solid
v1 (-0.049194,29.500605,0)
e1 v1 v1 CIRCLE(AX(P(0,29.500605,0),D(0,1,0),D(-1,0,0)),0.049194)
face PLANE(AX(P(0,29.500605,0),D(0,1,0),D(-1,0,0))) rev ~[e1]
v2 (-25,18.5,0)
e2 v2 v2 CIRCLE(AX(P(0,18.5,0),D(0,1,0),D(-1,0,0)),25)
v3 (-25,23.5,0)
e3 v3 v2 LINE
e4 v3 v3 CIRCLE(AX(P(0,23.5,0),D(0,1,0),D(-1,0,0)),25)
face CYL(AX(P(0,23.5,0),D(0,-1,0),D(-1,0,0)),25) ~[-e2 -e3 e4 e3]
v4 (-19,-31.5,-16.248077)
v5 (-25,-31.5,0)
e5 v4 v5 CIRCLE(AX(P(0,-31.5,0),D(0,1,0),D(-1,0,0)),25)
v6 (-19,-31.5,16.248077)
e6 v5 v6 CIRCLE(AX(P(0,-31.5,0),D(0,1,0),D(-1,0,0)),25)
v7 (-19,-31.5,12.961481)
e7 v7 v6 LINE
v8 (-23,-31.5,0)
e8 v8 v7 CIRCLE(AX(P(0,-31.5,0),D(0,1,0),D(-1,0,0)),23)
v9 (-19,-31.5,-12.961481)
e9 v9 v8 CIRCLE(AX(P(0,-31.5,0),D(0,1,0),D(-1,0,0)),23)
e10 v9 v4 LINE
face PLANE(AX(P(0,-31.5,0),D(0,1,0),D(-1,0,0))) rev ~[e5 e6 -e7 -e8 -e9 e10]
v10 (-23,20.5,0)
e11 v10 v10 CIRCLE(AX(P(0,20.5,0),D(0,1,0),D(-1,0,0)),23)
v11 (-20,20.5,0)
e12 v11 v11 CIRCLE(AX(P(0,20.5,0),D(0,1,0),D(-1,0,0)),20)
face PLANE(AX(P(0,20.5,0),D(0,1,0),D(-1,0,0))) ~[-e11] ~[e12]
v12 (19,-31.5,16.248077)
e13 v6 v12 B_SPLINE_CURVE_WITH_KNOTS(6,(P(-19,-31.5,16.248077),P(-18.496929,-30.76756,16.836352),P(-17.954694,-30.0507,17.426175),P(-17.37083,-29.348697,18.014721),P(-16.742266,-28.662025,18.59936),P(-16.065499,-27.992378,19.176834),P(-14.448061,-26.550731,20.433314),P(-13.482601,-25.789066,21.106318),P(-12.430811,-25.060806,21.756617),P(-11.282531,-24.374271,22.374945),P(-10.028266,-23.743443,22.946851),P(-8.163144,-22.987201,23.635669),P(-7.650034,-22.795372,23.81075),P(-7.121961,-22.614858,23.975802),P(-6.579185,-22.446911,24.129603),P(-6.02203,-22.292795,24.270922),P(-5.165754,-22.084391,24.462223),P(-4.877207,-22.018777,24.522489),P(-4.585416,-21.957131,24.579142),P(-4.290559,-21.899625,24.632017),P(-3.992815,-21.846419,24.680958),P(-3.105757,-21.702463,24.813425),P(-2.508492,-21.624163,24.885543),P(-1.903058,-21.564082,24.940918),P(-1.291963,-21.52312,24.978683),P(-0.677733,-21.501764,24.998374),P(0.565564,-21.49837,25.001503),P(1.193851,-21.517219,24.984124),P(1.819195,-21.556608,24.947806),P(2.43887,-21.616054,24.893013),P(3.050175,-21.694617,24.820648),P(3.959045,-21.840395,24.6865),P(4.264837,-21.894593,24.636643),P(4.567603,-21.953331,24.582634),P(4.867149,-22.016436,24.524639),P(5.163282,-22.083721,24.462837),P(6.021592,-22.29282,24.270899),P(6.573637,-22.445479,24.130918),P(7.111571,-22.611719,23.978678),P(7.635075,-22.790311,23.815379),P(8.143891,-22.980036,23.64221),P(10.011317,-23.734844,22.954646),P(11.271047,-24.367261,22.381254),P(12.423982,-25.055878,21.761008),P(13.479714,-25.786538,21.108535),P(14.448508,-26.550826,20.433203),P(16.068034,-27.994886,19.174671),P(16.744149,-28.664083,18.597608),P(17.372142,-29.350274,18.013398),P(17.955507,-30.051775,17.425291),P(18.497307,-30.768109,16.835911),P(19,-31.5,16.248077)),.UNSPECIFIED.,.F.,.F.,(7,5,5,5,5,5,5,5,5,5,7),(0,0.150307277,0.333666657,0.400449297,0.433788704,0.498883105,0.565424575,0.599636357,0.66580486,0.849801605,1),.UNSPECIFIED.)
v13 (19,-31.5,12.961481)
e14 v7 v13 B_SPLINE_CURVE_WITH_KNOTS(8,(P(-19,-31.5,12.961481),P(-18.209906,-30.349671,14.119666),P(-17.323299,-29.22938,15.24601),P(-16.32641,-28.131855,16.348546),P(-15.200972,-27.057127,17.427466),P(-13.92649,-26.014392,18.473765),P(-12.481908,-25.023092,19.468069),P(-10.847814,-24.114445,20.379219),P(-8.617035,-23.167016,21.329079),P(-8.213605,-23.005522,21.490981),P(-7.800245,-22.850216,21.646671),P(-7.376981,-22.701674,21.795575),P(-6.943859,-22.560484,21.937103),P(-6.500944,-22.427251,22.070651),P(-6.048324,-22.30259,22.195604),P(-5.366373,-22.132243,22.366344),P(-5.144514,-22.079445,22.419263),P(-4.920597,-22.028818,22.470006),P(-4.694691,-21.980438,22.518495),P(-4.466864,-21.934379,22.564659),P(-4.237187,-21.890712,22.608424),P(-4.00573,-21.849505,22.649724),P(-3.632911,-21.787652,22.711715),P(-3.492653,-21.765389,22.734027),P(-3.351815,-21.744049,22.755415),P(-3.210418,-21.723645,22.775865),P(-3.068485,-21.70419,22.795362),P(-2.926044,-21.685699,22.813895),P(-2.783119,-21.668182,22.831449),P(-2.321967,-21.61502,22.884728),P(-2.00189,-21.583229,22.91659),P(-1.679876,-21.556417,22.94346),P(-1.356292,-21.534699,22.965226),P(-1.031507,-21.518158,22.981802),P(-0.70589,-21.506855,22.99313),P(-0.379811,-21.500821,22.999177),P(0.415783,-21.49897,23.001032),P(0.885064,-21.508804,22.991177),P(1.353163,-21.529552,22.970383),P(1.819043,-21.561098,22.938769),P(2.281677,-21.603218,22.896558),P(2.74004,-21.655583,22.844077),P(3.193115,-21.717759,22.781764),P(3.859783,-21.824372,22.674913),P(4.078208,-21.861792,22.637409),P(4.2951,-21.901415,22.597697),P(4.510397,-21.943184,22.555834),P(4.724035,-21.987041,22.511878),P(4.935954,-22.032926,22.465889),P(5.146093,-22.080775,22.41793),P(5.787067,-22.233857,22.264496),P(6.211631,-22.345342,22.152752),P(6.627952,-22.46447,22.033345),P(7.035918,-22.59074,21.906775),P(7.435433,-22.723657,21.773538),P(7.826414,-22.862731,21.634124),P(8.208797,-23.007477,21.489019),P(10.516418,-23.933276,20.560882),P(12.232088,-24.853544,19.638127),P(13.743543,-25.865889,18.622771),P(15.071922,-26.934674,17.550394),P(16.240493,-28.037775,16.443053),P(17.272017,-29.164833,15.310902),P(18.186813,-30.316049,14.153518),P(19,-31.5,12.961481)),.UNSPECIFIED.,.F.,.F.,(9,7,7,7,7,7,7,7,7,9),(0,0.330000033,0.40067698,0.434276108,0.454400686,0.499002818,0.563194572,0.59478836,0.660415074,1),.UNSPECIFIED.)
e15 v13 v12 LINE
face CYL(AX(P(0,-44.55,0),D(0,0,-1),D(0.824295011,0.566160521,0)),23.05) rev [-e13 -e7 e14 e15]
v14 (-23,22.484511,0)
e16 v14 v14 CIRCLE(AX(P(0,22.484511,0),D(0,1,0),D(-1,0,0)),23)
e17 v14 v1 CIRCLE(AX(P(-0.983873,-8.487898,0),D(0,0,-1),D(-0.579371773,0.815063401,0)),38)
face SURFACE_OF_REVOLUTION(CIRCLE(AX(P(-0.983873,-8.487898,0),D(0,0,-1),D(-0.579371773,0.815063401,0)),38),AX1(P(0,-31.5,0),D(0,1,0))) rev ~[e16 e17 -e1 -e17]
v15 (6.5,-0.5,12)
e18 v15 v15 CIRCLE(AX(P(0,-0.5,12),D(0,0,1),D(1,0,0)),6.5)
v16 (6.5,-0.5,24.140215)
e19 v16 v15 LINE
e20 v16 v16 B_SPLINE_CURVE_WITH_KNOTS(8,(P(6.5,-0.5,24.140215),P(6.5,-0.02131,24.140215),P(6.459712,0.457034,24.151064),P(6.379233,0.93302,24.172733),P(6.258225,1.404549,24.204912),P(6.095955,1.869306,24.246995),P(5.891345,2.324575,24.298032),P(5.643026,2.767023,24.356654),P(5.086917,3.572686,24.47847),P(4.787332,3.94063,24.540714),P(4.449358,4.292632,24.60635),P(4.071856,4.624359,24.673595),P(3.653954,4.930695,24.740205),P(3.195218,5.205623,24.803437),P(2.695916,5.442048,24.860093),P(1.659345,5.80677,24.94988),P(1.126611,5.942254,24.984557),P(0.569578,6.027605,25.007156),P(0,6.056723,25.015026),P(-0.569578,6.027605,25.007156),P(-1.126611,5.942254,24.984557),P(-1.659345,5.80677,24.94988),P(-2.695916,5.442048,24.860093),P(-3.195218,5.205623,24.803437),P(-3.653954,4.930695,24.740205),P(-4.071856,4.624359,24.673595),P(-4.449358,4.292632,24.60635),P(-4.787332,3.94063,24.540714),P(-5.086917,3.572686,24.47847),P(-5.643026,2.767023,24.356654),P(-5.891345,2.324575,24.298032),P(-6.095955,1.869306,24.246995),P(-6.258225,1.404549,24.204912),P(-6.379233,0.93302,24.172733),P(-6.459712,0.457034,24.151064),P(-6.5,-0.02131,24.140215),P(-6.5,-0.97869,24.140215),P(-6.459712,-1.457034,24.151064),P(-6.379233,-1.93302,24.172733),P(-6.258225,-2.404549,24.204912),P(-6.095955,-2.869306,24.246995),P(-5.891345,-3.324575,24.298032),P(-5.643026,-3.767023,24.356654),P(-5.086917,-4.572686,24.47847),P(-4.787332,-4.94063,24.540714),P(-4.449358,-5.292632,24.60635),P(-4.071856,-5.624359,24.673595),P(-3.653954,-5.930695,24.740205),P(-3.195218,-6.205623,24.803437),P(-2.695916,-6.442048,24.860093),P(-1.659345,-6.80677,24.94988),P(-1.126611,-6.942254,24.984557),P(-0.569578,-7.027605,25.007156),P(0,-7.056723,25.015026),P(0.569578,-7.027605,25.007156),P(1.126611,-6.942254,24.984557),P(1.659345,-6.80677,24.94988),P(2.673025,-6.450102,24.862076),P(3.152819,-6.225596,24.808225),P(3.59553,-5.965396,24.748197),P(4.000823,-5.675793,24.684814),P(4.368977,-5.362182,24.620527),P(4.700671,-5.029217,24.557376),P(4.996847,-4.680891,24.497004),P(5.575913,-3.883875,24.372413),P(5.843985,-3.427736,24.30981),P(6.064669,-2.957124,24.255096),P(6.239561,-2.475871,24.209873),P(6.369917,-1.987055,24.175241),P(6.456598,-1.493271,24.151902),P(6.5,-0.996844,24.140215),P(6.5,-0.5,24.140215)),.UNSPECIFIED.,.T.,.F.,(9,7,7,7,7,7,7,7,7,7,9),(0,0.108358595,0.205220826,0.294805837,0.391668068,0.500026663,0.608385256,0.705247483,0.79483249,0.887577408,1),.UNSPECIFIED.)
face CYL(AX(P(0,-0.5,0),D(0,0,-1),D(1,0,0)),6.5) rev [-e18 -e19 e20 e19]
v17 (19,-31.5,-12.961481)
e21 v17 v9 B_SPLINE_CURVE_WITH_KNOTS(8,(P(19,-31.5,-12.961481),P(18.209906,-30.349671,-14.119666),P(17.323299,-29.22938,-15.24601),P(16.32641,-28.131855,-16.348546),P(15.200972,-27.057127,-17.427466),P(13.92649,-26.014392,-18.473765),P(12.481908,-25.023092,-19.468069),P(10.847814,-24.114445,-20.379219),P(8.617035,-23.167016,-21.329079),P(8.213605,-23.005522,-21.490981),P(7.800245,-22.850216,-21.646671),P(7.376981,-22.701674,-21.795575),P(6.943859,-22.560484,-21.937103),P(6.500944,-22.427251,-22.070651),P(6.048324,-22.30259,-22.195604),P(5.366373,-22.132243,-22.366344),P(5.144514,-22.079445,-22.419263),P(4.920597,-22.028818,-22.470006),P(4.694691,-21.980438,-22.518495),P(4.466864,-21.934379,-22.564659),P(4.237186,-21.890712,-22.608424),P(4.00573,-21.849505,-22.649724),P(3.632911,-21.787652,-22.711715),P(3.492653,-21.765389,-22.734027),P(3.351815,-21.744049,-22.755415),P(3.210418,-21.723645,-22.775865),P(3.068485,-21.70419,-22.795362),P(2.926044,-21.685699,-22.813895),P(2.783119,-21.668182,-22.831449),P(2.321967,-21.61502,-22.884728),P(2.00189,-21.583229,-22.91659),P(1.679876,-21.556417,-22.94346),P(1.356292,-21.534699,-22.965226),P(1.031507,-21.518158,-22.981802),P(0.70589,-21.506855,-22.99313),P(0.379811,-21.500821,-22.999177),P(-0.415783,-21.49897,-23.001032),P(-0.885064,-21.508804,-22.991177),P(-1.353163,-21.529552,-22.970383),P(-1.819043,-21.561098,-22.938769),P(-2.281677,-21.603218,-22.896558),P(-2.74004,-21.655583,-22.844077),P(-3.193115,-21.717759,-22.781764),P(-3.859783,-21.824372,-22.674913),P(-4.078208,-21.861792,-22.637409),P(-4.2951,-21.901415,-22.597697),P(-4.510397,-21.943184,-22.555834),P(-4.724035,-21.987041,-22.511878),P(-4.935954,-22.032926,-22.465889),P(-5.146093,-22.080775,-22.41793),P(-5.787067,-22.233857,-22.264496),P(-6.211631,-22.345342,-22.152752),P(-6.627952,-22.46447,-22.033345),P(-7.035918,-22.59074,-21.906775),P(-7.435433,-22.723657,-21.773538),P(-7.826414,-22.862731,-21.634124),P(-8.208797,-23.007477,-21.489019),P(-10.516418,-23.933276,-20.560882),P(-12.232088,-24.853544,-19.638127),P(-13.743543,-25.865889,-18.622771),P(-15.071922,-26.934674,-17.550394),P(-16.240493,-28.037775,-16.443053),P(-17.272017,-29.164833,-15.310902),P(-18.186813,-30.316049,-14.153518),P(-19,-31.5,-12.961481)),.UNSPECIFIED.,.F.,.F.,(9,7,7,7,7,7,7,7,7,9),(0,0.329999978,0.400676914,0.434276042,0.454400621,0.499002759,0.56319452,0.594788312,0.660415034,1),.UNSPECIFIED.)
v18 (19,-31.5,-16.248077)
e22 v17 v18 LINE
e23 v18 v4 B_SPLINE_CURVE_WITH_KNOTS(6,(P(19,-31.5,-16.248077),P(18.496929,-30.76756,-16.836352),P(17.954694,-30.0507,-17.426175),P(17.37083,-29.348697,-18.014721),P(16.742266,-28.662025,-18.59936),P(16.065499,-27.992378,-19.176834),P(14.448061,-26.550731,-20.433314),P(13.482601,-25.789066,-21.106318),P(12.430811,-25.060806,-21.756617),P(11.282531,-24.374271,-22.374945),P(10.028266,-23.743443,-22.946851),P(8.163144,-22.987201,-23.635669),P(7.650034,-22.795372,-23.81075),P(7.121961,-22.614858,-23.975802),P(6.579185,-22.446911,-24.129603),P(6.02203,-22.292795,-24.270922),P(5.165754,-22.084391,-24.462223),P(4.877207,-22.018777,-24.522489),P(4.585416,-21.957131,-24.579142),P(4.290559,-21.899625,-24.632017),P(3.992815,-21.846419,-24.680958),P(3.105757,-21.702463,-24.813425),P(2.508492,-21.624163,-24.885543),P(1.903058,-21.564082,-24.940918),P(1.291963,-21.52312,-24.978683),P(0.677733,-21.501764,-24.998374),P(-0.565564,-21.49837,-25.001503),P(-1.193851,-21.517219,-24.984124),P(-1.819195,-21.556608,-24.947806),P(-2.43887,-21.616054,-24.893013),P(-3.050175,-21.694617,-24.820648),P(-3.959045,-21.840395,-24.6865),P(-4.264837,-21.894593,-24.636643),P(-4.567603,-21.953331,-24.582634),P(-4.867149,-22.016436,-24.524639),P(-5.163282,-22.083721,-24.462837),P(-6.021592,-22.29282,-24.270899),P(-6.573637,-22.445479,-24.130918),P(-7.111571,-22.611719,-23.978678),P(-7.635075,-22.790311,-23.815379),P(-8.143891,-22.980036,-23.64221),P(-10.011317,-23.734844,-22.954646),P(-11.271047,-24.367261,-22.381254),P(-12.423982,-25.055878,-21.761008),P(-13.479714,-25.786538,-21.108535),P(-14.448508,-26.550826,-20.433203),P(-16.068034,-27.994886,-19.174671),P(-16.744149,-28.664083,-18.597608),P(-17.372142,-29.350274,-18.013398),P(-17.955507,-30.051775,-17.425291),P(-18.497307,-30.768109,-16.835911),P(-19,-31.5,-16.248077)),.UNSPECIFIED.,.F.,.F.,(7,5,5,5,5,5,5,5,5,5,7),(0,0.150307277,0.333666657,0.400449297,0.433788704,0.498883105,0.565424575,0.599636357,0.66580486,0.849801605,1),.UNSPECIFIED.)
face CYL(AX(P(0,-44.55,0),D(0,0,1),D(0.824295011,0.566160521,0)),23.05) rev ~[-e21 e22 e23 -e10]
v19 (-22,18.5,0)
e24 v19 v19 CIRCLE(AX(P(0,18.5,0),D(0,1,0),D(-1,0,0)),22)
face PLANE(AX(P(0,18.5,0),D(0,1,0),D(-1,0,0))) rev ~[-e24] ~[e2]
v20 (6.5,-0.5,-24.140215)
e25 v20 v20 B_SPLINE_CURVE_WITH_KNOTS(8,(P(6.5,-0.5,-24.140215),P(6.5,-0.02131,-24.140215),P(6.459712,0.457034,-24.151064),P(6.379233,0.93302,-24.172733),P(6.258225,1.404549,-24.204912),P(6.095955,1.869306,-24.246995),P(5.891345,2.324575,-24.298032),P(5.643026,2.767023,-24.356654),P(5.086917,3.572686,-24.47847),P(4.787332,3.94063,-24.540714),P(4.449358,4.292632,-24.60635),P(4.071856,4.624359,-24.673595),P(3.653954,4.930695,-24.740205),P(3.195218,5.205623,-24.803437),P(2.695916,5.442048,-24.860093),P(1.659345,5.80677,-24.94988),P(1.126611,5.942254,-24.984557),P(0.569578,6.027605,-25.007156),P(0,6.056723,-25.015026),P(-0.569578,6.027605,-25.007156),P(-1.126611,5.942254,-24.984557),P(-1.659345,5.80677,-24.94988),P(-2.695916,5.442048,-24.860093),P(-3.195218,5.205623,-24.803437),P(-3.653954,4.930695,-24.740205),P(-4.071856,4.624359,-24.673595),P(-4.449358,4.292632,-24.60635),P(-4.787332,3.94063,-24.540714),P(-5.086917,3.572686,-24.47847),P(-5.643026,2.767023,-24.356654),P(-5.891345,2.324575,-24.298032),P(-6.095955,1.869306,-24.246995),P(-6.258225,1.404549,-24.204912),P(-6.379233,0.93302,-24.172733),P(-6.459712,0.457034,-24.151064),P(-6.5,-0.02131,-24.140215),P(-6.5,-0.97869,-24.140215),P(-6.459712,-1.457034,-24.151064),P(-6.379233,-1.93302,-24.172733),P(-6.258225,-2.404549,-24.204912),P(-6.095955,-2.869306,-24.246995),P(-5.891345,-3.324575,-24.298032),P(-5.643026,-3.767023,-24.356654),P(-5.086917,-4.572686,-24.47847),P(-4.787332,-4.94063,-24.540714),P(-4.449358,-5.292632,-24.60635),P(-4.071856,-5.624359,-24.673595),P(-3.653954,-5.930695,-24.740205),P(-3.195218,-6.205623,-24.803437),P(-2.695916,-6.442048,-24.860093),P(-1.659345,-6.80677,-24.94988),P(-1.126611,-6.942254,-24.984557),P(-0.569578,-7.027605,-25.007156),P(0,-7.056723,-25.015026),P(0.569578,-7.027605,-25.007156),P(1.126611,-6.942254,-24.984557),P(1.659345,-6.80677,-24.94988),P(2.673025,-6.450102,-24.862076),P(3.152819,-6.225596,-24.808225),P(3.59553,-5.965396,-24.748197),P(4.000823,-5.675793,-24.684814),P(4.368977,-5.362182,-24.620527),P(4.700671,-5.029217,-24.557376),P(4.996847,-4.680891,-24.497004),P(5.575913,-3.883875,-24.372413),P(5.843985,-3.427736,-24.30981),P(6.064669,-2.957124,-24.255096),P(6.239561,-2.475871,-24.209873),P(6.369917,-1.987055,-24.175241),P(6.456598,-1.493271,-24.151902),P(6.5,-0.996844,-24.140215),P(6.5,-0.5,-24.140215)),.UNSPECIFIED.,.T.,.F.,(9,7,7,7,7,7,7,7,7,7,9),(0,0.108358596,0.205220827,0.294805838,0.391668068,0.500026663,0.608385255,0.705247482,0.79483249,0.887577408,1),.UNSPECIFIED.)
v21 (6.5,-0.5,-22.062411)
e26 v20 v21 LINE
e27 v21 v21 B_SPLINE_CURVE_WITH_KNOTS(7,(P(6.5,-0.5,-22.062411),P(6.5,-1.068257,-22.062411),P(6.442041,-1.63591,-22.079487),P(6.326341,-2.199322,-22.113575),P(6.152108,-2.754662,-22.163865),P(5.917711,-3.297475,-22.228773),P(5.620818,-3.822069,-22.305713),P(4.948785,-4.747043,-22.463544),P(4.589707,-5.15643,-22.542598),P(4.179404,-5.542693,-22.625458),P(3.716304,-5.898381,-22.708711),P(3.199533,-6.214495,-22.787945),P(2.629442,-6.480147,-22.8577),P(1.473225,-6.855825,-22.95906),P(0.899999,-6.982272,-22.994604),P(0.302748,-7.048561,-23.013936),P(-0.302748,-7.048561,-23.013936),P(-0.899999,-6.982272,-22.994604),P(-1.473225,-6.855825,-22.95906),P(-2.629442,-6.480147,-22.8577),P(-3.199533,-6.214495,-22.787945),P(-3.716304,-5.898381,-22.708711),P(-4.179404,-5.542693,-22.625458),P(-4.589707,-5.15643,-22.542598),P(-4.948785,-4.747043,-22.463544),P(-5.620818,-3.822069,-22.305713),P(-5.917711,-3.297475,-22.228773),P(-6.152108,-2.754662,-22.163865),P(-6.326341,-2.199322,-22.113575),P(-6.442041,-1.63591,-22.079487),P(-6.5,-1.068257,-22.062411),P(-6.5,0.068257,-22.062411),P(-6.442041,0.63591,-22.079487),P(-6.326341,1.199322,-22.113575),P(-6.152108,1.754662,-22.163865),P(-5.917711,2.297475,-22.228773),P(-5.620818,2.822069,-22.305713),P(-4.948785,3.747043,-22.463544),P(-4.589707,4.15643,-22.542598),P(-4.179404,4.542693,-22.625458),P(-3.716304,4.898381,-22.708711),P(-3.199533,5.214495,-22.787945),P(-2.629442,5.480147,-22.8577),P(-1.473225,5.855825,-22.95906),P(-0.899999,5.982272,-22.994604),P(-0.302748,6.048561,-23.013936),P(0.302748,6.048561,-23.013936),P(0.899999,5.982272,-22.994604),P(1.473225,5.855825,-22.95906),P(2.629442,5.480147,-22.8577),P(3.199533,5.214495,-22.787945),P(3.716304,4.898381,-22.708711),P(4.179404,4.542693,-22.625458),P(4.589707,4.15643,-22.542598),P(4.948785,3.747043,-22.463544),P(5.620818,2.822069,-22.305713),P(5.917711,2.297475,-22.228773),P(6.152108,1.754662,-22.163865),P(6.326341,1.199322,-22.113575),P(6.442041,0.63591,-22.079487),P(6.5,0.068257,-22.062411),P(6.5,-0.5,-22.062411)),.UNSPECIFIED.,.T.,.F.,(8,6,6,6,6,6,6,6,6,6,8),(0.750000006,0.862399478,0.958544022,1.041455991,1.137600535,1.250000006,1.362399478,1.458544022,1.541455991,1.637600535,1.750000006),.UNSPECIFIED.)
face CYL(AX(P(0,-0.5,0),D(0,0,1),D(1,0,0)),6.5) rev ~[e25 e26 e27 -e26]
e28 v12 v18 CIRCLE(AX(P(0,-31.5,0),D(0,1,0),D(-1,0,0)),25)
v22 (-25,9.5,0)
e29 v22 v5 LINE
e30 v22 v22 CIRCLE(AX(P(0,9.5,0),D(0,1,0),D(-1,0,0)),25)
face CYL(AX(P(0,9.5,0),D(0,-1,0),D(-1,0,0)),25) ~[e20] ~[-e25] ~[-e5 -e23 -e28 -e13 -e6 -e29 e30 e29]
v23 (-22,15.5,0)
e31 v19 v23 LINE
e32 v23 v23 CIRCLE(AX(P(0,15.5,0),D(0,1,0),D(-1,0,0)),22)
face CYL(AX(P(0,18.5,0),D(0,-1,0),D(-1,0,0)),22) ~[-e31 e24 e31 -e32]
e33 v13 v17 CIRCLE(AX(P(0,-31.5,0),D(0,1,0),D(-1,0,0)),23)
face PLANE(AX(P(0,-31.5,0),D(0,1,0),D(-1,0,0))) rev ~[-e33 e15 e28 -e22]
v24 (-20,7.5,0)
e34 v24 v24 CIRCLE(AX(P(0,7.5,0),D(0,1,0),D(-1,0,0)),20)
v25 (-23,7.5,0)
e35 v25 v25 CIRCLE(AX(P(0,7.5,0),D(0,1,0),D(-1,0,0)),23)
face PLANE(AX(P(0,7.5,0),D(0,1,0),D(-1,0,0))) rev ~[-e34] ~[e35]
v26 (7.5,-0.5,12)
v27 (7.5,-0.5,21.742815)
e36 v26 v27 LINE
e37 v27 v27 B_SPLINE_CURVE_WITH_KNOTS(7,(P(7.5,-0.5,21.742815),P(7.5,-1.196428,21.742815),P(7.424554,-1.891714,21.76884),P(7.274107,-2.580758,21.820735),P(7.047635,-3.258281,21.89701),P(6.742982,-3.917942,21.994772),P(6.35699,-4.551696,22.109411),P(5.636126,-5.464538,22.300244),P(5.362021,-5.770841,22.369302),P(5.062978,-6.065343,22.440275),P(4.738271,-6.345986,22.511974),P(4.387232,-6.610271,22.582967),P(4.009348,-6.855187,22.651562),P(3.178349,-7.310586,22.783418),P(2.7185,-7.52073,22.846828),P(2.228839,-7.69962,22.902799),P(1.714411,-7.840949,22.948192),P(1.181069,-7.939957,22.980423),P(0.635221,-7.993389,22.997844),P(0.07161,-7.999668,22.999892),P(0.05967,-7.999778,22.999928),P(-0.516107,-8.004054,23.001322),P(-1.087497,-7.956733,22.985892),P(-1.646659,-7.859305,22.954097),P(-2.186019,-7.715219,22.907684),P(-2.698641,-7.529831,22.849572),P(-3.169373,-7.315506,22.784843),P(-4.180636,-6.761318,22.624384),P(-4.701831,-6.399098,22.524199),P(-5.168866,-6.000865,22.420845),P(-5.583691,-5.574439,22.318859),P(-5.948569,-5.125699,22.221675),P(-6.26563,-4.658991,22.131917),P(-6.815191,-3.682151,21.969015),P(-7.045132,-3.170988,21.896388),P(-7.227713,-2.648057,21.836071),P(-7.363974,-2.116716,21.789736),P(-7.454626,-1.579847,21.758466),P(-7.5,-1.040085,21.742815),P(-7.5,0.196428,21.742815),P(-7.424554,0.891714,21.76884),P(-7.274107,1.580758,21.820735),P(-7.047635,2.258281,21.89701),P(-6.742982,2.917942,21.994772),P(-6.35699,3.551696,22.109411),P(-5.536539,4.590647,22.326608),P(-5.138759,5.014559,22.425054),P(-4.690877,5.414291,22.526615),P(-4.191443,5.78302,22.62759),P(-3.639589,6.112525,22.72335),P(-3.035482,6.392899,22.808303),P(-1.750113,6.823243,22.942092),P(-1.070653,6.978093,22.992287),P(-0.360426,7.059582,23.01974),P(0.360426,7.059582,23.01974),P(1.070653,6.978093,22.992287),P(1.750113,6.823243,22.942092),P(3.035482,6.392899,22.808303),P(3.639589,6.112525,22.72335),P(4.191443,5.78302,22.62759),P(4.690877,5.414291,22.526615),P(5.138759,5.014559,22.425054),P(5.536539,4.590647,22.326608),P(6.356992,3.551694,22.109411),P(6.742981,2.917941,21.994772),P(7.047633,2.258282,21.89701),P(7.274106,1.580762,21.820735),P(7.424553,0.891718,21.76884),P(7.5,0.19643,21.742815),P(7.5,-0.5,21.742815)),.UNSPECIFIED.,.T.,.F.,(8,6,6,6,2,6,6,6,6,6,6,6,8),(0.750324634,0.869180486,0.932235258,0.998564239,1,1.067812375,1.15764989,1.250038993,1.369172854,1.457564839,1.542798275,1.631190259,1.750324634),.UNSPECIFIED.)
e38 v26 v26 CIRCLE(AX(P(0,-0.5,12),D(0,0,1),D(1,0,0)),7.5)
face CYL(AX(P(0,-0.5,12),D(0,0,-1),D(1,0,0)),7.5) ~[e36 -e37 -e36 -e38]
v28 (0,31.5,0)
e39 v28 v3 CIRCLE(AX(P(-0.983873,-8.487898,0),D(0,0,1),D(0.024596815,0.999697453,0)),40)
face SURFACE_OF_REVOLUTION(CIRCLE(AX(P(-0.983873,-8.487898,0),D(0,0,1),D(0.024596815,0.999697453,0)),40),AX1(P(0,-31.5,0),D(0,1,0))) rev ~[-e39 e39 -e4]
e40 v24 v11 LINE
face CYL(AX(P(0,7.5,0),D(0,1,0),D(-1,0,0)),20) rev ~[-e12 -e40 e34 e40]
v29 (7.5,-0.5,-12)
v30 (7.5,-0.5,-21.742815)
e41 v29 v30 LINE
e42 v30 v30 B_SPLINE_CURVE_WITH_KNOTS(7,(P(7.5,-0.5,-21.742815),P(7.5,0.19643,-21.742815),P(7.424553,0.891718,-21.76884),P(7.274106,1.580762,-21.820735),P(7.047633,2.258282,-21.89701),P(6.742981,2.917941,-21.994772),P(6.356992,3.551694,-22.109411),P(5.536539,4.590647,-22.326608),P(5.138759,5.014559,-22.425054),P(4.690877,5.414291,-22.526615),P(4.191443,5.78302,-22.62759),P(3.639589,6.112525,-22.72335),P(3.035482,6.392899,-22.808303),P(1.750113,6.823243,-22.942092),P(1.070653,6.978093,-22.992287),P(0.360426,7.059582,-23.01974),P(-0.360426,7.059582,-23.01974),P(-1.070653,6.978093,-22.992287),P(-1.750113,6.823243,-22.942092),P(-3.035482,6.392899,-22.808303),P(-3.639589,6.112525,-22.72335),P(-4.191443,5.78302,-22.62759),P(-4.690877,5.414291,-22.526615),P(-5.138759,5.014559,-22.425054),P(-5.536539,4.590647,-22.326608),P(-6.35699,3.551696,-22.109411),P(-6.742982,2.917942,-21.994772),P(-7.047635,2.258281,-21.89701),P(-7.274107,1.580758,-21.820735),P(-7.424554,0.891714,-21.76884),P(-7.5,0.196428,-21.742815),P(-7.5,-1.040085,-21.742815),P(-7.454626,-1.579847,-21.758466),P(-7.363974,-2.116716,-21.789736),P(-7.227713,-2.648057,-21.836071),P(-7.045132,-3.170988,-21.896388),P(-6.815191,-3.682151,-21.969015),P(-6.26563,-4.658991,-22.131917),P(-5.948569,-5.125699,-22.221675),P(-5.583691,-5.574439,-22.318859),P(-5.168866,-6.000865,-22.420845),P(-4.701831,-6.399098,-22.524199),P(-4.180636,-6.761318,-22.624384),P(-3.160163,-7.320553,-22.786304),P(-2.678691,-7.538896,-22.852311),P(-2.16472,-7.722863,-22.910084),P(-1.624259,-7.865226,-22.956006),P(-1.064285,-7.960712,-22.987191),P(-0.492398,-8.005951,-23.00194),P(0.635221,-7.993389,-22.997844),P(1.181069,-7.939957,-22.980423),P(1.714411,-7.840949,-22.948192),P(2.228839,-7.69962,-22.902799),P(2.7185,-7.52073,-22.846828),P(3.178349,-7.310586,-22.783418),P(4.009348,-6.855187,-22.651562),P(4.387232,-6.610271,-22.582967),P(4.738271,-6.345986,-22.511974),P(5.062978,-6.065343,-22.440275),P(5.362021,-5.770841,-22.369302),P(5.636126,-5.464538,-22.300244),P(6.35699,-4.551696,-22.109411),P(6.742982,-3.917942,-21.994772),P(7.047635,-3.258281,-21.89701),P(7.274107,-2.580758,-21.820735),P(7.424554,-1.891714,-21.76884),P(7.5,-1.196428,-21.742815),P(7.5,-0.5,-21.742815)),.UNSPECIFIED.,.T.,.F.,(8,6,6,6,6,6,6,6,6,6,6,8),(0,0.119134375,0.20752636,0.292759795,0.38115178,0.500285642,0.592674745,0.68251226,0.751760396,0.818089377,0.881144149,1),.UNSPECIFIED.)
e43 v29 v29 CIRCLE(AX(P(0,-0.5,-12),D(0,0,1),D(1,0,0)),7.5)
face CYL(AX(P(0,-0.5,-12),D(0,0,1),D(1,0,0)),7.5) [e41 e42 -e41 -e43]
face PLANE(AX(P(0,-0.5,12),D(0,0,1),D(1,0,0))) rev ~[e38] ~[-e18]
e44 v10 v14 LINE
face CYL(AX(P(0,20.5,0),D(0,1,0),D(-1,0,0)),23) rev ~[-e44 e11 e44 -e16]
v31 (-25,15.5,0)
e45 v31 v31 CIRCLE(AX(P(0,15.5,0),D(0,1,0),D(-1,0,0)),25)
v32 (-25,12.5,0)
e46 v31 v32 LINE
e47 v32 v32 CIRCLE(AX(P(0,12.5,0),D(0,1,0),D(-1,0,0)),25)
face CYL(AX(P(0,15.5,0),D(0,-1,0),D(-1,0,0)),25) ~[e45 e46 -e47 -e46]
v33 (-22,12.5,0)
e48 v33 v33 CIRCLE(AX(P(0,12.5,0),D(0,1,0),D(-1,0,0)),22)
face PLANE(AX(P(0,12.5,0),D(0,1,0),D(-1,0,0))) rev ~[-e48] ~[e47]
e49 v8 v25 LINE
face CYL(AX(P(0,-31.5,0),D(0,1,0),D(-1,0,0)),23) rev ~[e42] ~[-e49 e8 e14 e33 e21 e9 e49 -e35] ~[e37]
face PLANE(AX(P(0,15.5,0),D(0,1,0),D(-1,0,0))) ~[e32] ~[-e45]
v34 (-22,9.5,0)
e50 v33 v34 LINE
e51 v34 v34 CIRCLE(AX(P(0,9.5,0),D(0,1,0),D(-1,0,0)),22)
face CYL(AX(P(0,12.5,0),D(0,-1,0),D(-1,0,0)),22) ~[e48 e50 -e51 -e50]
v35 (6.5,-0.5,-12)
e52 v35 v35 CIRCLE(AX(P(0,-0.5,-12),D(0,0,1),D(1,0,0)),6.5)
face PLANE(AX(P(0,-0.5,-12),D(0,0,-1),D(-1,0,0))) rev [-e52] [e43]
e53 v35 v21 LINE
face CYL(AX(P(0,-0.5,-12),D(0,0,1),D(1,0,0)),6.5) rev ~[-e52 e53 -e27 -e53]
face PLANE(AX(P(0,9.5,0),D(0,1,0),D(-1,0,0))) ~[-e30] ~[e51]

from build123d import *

# Parameters (mm, degrees)
SKETCH2_R               = 6.5
CUT_EXTRUDE2_DEPTH      = 26.0000001
CUT_EXTRUDE2_DEPTH_BACK = 26.0000001
BOSS_EXTRUDE1_START     = 12
SKETCH3_R               = 7.5
SKETCH3_R_2             = 6.5
BOSS_EXTRUDE1_DEPTH     = 11


with BuildPart() as part:
    # Sketch1 → Revolve9 (revolve)
    with BuildSketch(Plane.XY):
        with BuildLine():
            Line((-23, -31.5), (-23, 7.5))
            Line((-23, 7.5), (-20, 7.5))
            Line((-20, 7.5), (-20, 20.5))
            Line((-20, 20.5), (-23, 20.5))
            Line((-23, 20.5), (-23, 22.484511145))
            ThreePointArc((-23, 22.484511145), (-12.093024708, 27.851979987), (-0.04919363, 29.500605095))
            Line((-0.04919363, 29.500605095), (0, 29.500605095))
            Line((0, 29.500605095), (0, 31.5))
            ThreePointArc((0, 31.5), (-13.174901691, 29.609067785), (-25, 23.5))
            Line((-25, 23.5), (-25, 18.5))
            Line((-25, 18.5), (-22, 18.5))
            Line((-22, 18.5), (-22, 15.5))
            Line((-22, 15.5), (-25, 15.5))
            Line((-25, 15.5), (-25, 12.5))
            Line((-25, 12.5), (-22, 12.5))
            Line((-22, 12.5), (-22, 9.5))
            Line((-22, 9.5), (-25, 9.5))
            Line((-25, 9.5), (-25, -31.5))
            Line((-25, -31.5), (-23, -31.5))
        make_face()
    revolve(axis=Axis((0, -31.5, 0), (0, 1, 0)))

    # Sketch2 → Cut-Extrude2 (cut, two sides)
    with BuildSketch(Plane.XY) as cut_extrude2_sk:
        with Locations((0, -0.5)):
            Circle(SKETCH2_R)
        with BuildLine():
            Line((-19, -31.5), (19, -31.5))
            ThreePointArc((19, -31.5), (0, -21.5), (-19, -31.5))
        make_face()
    extrude(amount=CUT_EXTRUDE2_DEPTH, mode=Mode.SUBTRACT)
    extrude(cut_extrude2_sk.sketch, amount=-CUT_EXTRUDE2_DEPTH_BACK, mode=Mode.SUBTRACT)

    # Sketch3 → Boss-Extrude1 (add)
    with BuildSketch(Plane.XY.offset(BOSS_EXTRUDE1_START)):
        with Locations((0, -0.5)):
            Circle(SKETCH3_R)
        with Locations((0, -0.5)):
            Circle(SKETCH3_R_2, mode=Mode.SUBTRACT)
    boss_extrude1 = extrude(amount=BOSS_EXTRUDE1_DEPTH)

    # Mirror1: Boss-Extrude1 across plane
    add(boss_extrude1.mirror(Plane.XY))


solid = part.part
